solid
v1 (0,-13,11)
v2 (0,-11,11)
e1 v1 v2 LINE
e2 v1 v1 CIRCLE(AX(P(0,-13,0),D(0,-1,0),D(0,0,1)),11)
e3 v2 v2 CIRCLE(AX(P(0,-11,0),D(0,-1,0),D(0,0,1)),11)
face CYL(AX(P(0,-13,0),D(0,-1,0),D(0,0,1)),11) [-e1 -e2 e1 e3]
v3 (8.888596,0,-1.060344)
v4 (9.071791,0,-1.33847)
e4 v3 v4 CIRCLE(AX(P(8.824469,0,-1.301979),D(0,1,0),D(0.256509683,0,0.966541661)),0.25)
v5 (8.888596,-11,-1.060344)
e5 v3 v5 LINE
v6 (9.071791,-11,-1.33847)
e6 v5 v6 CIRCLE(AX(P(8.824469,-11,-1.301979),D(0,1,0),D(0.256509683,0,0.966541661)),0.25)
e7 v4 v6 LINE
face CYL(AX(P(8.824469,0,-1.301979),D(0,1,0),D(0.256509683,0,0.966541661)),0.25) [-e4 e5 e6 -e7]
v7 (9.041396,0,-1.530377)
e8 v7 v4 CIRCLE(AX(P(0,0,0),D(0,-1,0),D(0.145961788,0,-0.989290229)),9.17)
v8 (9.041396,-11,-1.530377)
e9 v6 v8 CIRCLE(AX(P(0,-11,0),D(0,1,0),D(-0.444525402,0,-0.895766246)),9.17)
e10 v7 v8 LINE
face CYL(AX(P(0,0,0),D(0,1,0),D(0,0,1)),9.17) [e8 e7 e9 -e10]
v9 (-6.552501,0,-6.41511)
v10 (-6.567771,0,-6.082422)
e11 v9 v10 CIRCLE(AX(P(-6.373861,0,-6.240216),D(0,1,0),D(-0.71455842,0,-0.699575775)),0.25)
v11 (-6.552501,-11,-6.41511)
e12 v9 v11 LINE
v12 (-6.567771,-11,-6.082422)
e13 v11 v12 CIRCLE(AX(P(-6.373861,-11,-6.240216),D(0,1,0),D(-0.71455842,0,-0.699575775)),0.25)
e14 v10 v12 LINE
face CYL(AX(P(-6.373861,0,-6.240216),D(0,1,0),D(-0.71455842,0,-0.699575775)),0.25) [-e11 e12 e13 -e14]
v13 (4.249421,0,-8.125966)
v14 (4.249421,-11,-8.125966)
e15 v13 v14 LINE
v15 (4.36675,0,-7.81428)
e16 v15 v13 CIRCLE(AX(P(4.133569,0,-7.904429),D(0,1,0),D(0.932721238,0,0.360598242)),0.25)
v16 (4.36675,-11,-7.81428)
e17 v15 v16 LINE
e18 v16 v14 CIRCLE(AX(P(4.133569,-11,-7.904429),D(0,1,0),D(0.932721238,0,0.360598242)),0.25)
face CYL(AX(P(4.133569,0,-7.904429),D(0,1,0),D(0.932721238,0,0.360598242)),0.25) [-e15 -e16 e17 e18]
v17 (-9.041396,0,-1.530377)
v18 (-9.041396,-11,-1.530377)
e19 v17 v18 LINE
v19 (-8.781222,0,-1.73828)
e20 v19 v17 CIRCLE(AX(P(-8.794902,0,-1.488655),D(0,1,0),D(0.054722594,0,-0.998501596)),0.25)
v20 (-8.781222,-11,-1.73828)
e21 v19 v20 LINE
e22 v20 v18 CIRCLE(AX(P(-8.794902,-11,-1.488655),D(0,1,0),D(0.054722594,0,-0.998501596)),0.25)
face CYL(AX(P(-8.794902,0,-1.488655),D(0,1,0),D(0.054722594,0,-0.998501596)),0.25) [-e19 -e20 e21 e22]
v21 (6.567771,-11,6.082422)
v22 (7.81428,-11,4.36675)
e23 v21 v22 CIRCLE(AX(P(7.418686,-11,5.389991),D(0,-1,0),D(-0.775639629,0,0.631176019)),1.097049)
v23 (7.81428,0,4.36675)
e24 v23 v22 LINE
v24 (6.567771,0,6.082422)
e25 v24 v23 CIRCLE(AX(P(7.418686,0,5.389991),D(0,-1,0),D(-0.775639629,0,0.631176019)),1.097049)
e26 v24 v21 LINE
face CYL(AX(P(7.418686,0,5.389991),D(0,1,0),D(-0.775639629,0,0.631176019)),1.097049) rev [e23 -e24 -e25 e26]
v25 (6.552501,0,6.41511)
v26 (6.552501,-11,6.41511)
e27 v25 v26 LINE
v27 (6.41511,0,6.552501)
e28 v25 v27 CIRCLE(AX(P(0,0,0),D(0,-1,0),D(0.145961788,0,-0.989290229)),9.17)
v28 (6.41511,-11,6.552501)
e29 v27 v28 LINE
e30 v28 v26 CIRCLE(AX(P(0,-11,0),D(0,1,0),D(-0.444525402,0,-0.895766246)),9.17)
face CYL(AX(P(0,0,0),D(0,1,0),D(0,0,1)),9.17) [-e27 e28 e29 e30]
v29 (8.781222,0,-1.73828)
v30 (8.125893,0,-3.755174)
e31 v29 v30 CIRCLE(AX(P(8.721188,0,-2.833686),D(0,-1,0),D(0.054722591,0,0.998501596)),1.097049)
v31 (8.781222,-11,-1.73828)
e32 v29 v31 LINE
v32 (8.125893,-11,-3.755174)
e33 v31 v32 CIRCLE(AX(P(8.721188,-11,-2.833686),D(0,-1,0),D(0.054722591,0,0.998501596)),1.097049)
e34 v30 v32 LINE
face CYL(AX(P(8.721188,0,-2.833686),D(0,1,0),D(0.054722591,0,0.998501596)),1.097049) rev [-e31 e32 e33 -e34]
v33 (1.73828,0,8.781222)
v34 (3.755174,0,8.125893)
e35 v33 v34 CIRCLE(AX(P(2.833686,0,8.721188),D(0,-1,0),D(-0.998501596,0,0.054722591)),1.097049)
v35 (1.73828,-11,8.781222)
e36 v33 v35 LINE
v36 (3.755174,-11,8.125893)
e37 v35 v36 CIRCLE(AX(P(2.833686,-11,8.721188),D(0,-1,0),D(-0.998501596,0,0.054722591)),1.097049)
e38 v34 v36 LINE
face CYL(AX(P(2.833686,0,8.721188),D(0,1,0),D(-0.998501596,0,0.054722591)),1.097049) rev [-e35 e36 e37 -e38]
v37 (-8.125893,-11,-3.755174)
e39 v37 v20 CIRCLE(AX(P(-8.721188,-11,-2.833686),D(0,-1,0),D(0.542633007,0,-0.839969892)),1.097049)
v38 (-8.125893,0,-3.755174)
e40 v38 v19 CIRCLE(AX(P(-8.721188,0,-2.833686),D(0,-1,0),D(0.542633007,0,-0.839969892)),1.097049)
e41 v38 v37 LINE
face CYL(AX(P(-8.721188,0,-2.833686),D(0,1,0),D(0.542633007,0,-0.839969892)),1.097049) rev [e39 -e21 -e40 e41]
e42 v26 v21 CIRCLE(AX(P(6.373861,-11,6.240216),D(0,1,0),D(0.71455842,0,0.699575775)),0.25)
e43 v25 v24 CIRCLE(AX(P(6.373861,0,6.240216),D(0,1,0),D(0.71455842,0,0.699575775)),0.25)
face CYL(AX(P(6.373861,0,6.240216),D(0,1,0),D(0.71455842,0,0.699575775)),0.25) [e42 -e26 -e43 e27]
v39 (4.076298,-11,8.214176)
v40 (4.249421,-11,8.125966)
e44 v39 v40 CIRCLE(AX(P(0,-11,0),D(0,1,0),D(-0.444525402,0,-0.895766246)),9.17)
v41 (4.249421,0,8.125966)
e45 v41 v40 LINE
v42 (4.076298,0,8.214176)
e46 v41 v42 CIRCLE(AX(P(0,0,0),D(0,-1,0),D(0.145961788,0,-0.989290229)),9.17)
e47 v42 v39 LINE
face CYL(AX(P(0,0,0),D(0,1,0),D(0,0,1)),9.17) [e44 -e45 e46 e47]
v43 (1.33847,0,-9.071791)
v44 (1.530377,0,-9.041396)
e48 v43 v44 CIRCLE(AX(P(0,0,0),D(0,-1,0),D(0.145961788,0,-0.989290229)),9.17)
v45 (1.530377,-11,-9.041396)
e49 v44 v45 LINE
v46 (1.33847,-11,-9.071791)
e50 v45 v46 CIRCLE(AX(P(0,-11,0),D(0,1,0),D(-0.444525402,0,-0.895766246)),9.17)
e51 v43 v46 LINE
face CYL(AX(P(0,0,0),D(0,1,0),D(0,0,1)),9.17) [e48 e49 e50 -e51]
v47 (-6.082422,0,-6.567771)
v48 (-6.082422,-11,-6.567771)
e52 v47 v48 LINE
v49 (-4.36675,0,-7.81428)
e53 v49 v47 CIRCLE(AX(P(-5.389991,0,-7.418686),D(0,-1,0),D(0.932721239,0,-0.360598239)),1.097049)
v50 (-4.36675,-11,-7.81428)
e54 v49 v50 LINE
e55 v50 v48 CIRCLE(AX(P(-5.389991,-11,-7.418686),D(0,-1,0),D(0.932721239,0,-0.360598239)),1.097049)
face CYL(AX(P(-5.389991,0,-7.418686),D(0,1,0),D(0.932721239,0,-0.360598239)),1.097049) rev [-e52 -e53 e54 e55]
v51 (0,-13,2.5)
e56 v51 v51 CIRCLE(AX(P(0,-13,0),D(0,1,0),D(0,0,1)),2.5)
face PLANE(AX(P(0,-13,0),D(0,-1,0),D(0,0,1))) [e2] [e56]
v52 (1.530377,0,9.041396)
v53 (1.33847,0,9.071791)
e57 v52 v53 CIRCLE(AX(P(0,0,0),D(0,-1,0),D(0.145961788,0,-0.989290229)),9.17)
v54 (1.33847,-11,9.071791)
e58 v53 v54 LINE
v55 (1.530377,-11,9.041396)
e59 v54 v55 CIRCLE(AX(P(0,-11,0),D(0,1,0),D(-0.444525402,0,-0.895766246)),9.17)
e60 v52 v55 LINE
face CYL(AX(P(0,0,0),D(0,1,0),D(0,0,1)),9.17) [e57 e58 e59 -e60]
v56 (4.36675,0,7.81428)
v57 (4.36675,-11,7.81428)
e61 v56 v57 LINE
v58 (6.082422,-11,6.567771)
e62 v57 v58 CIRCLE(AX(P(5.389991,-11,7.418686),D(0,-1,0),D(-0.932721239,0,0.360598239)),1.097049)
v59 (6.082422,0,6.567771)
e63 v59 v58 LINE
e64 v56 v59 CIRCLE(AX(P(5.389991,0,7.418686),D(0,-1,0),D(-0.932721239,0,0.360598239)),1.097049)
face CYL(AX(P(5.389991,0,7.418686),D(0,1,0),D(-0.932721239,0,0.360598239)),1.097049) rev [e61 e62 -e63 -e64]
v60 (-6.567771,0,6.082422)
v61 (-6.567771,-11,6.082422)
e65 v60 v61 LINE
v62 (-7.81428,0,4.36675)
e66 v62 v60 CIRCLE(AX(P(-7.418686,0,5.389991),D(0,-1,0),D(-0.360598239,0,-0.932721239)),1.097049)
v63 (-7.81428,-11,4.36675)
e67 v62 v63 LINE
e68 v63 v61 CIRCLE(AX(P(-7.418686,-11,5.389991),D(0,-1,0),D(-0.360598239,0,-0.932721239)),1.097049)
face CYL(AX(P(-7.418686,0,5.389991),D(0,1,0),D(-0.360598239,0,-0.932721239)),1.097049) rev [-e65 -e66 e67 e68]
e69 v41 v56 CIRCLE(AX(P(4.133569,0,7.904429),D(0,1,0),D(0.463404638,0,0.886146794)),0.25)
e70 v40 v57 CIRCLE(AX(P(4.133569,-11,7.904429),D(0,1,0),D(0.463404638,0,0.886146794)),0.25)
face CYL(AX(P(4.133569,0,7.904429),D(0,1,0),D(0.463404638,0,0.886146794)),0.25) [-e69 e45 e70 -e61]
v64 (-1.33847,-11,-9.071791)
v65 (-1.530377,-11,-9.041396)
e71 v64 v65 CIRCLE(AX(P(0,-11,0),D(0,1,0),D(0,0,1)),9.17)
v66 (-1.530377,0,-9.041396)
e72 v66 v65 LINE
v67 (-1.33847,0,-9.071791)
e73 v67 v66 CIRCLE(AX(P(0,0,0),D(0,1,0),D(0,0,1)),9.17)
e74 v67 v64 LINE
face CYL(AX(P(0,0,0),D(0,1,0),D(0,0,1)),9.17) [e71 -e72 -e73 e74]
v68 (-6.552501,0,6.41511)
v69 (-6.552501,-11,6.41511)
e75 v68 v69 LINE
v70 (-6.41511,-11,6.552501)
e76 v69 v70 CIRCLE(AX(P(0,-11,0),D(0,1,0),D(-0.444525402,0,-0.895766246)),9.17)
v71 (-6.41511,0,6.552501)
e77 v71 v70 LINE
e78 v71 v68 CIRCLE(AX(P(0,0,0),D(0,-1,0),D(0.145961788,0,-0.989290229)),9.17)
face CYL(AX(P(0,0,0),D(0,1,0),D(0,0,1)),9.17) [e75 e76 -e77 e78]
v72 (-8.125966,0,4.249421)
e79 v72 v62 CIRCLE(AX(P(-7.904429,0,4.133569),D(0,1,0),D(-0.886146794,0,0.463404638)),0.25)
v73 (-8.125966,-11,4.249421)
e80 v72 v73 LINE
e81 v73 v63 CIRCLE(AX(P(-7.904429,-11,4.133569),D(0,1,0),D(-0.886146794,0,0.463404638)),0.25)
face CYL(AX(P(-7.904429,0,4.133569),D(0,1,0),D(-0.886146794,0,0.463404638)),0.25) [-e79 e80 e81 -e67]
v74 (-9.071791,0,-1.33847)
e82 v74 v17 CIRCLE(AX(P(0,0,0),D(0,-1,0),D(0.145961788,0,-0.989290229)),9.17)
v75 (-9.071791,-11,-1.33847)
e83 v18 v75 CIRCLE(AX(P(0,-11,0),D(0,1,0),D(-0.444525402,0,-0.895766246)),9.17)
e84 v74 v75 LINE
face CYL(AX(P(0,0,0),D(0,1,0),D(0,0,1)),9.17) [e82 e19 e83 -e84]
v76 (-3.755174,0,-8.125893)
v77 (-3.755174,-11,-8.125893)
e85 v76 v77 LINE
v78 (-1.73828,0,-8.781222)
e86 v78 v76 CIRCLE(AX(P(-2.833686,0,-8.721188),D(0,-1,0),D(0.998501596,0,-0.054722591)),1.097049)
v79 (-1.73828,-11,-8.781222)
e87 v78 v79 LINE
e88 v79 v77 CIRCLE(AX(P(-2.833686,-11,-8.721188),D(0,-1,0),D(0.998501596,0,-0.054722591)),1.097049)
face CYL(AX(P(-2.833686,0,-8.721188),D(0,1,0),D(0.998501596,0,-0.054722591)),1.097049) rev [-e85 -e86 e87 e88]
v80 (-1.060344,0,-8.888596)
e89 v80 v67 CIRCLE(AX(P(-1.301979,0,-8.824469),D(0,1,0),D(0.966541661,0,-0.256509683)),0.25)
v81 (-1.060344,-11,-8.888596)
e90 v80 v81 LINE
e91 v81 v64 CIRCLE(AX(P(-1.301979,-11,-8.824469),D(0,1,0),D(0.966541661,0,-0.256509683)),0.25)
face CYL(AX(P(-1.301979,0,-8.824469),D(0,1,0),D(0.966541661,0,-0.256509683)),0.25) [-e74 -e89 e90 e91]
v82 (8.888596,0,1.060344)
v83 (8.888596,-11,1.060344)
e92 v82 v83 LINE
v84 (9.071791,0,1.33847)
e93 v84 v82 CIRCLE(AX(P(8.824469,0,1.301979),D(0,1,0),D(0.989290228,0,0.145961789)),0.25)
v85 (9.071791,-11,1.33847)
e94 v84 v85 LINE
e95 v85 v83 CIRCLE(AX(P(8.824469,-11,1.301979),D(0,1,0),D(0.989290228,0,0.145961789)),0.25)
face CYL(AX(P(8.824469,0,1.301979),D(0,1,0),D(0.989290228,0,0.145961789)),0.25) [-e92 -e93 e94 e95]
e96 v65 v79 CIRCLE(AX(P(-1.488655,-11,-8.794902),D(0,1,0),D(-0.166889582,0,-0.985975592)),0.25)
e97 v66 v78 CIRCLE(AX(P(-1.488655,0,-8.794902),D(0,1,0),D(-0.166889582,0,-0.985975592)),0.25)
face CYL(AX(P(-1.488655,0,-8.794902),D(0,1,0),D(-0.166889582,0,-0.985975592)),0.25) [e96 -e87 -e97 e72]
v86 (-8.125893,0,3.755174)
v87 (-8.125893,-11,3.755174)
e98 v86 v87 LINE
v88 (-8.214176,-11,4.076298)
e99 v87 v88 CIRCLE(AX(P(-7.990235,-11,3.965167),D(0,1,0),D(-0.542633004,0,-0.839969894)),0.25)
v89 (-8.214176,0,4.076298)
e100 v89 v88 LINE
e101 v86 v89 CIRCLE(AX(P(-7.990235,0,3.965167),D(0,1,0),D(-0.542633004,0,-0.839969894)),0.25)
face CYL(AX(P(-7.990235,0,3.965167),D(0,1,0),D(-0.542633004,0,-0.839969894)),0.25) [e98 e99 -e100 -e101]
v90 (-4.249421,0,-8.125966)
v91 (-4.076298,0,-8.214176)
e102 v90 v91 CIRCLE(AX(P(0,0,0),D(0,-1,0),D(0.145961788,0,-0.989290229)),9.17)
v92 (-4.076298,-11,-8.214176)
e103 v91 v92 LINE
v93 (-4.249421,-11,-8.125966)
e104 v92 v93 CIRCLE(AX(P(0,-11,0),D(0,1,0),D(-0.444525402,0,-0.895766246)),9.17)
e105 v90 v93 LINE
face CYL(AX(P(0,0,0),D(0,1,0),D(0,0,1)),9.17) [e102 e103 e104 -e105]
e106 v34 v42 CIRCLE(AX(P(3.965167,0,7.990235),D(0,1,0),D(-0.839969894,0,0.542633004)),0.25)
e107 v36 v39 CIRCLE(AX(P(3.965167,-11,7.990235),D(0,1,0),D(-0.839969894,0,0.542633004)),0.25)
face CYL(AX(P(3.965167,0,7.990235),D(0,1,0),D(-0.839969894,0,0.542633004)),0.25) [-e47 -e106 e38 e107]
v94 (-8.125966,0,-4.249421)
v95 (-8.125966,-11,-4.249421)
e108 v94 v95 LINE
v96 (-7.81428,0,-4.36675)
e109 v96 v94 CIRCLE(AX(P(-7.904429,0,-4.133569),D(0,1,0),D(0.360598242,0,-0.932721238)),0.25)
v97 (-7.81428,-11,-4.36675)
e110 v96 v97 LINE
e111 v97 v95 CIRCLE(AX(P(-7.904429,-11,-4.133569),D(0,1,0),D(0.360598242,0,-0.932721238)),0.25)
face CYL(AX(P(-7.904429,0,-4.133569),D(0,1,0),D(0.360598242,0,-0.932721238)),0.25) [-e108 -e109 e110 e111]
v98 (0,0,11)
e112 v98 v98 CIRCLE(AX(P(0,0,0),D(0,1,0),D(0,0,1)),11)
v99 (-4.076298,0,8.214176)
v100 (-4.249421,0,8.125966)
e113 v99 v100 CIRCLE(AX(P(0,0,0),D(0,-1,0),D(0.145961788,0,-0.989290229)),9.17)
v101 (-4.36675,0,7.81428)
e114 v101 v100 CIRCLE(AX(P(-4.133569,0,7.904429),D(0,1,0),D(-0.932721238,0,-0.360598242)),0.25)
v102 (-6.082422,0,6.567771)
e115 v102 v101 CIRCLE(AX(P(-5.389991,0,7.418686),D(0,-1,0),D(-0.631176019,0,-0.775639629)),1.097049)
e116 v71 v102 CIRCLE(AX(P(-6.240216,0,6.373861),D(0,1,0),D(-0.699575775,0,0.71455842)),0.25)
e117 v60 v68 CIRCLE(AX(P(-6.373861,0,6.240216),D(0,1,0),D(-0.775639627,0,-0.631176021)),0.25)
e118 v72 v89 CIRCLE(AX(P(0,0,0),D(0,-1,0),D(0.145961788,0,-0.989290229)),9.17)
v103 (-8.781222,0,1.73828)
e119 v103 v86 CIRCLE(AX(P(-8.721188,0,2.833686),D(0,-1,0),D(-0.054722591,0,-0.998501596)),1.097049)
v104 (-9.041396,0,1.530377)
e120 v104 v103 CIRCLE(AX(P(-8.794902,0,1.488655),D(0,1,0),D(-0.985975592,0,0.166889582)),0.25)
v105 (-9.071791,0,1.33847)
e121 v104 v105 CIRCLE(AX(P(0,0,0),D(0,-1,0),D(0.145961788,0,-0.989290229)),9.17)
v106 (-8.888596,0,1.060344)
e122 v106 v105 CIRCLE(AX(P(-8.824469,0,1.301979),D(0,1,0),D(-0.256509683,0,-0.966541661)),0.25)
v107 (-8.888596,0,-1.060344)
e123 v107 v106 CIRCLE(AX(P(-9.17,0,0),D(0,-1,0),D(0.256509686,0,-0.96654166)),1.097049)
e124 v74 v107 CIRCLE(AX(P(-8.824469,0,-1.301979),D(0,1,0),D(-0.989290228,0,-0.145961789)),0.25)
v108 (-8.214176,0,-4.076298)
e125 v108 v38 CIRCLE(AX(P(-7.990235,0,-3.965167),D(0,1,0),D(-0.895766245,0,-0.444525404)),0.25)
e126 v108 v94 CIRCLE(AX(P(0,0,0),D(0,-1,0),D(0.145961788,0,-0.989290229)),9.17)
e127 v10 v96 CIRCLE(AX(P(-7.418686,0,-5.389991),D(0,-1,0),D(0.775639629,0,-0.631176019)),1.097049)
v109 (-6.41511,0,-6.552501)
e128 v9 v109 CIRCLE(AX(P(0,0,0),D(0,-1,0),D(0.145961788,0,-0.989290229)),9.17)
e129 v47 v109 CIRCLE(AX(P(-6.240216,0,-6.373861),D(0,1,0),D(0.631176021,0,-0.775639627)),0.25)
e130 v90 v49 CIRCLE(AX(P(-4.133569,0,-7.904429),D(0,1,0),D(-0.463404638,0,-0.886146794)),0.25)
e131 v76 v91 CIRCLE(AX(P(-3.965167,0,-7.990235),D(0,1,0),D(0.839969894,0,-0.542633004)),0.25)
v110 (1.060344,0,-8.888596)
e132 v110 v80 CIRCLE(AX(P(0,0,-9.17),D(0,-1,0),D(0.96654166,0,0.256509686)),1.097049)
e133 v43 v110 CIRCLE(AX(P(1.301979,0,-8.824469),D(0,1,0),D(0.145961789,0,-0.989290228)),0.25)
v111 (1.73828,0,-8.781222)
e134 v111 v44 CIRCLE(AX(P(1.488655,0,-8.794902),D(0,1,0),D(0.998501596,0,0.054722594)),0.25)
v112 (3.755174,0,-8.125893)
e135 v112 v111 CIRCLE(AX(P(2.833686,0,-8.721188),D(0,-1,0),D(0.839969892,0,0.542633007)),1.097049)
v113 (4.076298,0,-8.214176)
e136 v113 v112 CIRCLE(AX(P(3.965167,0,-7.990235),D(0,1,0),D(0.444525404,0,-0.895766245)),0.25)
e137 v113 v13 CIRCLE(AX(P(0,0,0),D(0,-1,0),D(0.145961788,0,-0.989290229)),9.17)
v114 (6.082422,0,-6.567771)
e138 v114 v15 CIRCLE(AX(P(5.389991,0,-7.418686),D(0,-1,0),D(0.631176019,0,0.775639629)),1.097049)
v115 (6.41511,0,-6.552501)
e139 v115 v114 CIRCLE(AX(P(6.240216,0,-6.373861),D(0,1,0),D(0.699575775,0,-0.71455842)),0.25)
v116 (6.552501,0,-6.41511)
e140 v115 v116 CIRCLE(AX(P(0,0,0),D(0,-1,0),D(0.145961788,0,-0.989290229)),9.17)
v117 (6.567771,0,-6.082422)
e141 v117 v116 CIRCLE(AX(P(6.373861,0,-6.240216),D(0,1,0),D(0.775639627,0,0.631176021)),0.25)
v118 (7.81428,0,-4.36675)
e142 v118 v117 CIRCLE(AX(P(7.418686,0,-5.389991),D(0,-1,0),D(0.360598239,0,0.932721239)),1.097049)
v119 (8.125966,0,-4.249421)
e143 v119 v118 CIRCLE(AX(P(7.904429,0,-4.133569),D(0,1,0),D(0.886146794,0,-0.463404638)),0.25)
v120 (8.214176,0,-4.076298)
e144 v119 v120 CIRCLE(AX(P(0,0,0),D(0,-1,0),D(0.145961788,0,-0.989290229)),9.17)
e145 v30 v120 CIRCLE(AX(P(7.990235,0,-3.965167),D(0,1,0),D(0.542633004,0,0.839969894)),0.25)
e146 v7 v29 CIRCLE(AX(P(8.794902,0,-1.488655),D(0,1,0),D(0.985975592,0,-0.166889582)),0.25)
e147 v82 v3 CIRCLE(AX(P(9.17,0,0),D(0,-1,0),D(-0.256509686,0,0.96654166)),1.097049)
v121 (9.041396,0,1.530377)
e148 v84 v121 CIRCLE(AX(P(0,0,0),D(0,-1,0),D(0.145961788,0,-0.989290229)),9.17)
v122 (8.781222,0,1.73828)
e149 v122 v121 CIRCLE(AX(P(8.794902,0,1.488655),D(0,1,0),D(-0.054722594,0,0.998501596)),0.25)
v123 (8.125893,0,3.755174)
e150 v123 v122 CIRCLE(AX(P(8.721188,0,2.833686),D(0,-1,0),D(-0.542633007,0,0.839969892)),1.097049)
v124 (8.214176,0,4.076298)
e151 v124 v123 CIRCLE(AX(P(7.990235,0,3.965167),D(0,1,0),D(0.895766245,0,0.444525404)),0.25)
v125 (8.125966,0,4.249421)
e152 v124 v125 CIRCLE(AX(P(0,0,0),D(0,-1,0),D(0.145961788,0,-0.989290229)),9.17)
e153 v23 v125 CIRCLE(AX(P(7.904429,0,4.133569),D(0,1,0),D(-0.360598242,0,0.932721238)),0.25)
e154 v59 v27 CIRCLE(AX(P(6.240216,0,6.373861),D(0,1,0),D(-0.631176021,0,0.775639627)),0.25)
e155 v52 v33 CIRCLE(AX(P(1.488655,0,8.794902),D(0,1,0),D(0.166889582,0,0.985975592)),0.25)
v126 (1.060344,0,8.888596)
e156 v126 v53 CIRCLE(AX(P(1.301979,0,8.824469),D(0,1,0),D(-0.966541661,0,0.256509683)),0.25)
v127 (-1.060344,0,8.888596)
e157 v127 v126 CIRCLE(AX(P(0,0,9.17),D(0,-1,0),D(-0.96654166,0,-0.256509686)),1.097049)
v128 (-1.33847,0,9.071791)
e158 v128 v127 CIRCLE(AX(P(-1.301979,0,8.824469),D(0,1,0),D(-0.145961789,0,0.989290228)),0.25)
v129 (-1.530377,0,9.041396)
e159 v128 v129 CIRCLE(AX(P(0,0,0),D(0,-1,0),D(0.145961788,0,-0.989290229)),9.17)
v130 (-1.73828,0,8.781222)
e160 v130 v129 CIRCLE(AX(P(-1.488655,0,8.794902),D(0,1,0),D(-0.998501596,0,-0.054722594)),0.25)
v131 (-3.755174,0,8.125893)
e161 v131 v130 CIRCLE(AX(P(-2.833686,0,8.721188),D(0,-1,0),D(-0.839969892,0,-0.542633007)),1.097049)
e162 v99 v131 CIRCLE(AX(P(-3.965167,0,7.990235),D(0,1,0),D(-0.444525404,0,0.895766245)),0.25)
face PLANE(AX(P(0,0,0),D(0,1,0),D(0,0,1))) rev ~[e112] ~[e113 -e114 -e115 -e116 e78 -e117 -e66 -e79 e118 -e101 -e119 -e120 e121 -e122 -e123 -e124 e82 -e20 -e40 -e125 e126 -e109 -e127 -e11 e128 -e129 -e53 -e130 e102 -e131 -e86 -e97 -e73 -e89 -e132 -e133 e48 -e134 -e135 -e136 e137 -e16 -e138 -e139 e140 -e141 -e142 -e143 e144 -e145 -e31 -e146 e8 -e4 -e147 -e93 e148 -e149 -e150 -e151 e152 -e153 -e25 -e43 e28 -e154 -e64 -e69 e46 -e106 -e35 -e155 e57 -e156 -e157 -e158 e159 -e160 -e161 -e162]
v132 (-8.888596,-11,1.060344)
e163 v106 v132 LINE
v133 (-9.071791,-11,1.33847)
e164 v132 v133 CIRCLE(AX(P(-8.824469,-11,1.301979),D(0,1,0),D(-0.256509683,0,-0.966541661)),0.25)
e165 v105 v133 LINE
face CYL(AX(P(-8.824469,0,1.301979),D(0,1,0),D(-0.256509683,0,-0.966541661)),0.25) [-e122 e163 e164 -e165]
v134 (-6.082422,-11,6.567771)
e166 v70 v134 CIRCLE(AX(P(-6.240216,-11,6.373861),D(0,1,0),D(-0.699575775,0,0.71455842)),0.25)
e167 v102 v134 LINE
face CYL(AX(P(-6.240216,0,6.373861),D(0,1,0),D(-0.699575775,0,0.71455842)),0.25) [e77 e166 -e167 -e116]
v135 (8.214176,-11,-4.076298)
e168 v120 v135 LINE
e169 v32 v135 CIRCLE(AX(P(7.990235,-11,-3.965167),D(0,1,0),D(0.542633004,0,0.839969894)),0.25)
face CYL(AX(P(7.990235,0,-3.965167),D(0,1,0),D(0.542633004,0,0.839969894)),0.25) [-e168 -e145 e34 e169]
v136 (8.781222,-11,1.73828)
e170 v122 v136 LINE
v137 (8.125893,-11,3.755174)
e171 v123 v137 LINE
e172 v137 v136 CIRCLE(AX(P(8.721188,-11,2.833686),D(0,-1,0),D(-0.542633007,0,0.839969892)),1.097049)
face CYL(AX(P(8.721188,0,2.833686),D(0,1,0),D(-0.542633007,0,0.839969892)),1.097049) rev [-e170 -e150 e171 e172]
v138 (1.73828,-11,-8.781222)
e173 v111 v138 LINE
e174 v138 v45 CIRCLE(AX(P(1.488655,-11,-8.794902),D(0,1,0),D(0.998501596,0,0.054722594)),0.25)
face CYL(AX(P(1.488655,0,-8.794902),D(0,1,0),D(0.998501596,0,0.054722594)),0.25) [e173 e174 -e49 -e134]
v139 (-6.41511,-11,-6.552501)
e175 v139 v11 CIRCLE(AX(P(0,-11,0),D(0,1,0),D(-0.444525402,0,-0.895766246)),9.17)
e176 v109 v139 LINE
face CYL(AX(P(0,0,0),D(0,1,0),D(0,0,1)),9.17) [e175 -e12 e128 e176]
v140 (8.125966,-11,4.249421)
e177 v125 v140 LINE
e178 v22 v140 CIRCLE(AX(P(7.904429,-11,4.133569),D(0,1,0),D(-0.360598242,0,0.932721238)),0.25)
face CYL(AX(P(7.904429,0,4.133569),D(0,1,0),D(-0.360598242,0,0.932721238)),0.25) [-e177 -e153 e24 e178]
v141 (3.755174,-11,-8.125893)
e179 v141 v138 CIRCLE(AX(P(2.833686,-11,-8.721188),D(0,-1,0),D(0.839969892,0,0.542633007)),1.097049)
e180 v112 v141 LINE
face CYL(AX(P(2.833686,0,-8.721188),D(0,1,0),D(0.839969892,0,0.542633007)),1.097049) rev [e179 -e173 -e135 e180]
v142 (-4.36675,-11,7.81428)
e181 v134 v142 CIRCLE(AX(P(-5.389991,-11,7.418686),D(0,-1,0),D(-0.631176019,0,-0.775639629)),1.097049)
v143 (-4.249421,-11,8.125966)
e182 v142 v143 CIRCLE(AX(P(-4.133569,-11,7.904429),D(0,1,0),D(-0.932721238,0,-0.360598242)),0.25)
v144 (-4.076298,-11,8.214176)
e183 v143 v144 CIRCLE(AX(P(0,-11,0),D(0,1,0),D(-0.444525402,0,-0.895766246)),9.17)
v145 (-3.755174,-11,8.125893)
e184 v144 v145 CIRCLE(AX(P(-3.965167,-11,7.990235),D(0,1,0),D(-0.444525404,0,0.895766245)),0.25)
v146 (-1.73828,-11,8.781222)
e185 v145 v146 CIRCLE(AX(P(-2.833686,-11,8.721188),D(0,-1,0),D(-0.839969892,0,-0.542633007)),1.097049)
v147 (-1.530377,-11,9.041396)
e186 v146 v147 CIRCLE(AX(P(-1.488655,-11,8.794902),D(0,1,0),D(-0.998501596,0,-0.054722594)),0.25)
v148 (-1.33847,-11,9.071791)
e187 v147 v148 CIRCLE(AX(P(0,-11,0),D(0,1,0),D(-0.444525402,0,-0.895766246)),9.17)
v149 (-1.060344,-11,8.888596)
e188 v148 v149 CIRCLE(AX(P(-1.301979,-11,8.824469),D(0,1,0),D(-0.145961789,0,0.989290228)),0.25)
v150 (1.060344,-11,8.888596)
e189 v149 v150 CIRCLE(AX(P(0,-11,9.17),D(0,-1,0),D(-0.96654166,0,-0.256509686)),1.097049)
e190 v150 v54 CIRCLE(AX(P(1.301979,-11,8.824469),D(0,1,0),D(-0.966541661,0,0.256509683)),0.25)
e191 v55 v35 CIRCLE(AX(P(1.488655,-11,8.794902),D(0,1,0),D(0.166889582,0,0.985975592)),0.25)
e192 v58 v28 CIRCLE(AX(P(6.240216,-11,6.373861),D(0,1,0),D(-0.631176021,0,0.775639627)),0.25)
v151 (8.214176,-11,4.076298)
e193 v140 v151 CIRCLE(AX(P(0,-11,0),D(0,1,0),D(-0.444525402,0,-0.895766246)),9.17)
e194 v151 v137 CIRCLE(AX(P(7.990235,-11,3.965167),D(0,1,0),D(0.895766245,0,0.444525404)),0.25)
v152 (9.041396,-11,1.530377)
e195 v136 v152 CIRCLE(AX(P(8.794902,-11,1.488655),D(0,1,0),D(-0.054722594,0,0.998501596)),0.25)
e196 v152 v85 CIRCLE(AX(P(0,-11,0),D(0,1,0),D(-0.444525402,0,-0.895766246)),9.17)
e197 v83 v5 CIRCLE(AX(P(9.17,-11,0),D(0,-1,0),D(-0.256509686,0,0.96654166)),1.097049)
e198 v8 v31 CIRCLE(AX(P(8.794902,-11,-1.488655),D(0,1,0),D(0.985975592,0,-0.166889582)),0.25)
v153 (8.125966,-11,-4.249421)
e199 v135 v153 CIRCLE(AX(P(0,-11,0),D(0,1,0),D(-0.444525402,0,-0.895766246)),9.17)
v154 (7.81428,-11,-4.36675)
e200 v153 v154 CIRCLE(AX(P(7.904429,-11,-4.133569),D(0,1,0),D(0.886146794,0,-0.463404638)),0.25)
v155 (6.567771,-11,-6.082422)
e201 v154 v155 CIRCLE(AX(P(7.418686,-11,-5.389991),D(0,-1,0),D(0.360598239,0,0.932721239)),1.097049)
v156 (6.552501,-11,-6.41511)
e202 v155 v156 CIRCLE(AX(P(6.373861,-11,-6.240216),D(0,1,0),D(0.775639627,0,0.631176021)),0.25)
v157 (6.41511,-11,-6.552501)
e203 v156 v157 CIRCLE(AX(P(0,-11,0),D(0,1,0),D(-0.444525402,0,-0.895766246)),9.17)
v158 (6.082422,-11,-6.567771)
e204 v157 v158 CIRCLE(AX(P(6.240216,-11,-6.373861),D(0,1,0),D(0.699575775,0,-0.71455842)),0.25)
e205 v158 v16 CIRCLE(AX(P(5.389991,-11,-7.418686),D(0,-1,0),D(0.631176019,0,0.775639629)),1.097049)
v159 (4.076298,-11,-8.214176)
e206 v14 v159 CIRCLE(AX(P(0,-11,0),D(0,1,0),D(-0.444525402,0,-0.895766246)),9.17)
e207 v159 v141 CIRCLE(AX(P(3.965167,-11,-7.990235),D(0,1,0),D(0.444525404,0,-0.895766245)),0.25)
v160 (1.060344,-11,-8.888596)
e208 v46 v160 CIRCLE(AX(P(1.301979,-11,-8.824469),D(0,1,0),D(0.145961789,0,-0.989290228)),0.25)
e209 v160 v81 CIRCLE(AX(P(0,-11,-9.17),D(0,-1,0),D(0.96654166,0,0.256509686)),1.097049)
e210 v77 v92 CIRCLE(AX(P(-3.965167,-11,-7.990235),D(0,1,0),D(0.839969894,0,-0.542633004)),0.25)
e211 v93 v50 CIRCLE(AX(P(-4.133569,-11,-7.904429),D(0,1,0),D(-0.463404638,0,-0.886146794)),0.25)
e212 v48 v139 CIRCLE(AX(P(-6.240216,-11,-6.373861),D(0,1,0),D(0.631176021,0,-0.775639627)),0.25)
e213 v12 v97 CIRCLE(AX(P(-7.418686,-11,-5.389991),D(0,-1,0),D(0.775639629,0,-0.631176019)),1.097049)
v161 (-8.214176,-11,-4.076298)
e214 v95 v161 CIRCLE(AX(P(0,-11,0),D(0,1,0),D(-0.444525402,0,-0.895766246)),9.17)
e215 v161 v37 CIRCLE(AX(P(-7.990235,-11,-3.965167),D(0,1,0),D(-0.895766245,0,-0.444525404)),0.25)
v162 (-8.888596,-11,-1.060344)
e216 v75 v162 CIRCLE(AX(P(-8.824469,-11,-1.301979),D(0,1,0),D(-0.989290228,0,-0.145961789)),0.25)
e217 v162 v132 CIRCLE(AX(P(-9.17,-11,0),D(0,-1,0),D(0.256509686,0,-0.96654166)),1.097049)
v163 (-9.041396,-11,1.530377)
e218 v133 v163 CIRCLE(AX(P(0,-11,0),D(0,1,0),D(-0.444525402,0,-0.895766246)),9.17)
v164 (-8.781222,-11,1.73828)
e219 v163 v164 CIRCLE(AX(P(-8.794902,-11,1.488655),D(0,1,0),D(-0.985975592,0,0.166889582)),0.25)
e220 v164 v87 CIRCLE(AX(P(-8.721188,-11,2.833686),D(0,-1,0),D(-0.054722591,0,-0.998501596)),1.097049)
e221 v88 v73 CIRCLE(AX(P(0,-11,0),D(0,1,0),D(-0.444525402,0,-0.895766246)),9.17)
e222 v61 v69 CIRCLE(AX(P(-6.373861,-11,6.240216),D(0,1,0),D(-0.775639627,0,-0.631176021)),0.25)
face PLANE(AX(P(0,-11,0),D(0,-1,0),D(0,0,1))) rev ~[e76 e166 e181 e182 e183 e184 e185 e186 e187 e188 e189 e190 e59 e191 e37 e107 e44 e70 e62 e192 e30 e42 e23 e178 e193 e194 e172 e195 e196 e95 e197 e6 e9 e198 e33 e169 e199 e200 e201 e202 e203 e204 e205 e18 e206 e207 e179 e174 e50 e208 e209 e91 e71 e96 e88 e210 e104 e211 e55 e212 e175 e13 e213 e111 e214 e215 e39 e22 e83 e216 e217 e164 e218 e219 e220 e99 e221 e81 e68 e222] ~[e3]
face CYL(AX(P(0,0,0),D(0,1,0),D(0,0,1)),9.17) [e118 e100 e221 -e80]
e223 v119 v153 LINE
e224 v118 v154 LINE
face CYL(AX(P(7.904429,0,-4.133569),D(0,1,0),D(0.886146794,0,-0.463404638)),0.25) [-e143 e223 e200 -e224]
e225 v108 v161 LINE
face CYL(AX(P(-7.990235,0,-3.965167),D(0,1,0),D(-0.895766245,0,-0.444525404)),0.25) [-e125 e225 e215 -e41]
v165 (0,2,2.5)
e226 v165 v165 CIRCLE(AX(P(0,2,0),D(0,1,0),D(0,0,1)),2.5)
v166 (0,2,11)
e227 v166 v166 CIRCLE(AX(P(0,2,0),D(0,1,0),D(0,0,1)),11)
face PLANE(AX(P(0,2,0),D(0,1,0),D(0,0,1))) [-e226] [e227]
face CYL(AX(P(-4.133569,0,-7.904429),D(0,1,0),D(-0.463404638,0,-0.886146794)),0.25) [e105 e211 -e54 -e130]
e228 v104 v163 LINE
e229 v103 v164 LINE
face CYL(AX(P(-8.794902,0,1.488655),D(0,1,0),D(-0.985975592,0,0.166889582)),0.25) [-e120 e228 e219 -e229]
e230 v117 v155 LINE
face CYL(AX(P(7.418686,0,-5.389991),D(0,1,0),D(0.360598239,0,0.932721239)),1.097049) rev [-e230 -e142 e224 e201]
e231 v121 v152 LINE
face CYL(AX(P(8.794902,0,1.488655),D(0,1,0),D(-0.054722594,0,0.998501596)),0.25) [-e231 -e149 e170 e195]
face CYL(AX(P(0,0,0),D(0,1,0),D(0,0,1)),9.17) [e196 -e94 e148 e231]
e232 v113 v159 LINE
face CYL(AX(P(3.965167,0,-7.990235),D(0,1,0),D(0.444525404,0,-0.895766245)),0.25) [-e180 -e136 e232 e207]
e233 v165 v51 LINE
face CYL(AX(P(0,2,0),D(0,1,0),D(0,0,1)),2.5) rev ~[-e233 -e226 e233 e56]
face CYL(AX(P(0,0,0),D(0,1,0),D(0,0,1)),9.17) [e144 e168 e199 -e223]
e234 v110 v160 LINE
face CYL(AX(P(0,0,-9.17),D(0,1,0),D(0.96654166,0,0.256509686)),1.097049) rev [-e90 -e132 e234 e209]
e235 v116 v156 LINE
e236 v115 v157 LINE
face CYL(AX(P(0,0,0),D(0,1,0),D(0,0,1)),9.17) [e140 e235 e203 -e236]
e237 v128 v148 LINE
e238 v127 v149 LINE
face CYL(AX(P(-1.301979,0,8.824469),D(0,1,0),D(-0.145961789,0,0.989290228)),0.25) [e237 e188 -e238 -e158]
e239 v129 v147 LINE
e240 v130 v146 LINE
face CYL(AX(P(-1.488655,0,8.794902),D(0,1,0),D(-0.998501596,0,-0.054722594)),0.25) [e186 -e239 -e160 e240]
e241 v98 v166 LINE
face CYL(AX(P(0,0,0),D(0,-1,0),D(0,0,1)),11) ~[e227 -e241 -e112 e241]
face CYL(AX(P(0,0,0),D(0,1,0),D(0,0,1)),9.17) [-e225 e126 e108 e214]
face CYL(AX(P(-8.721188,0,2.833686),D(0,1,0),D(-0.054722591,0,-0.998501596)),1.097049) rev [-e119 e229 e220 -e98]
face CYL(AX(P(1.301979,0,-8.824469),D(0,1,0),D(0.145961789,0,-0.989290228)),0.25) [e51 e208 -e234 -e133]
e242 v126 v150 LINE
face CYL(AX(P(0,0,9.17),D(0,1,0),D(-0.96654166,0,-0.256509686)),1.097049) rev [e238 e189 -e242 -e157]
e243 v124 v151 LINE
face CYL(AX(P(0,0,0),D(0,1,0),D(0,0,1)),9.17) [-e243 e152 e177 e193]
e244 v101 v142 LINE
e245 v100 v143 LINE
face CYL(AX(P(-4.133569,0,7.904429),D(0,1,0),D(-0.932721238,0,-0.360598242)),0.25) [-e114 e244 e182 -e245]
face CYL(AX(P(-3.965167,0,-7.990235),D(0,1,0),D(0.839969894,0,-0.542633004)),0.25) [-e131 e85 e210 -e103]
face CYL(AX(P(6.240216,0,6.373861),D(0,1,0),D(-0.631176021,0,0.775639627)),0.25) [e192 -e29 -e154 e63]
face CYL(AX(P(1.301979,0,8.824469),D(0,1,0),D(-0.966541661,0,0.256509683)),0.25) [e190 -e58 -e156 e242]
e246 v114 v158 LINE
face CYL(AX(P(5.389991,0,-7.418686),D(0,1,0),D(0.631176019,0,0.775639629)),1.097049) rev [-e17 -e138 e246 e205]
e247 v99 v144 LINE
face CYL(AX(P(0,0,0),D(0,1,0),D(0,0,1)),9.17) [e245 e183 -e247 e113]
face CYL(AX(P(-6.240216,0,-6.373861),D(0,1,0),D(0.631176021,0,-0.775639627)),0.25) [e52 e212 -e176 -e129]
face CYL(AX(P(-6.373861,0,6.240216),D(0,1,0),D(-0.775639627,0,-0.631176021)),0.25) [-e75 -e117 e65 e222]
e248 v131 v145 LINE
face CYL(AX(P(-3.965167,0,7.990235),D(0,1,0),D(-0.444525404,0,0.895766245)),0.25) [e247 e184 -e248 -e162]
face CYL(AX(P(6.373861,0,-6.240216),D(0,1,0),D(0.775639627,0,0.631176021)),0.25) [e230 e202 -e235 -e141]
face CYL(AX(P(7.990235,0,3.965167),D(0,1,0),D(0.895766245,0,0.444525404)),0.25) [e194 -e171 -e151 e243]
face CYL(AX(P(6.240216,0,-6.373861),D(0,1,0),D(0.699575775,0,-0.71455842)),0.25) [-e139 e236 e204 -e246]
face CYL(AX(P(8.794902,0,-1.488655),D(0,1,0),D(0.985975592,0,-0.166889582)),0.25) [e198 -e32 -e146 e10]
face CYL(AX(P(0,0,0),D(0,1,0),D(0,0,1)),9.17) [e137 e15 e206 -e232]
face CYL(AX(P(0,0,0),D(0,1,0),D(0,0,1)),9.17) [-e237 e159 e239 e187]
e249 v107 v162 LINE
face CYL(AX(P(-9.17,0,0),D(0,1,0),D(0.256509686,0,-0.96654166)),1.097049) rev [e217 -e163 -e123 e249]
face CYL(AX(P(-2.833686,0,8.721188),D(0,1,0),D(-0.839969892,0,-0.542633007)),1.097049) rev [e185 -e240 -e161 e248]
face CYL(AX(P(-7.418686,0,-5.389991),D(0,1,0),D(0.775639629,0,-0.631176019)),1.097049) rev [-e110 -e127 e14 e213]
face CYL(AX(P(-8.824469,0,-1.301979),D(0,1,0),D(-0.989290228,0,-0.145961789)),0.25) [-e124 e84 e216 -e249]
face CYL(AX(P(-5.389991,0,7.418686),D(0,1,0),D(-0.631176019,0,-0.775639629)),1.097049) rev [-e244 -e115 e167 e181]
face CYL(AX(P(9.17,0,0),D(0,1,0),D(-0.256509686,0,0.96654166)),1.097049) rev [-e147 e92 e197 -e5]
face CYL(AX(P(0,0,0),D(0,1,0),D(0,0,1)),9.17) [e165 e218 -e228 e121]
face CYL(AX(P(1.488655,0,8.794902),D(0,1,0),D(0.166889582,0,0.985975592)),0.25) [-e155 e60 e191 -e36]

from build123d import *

# Parameters (mm, degrees)
SKETCH_1_R               = 9.17
EXTRUDE_1_DEPTH          = 11
CUT_EXTRUDE_1_DEPTH      = 11
PATTERN_CIRCULAR_1_COUNT = 20
SKETCH_4_R               = 11
EXTRUDE_3_DEPTH          = 2
EXTRUDE_START            = 2
SKETCH_3_R               = 11
EXTRUDE_4_DEPTH          = 2
SKETCH_5_R               = 2.5
CUT_EXTRUDE_2_DEPTH      = 22


with BuildPart() as part:
    # 草图1 → 凸台-拉伸1 (new body)
    with BuildSketch(Plane(origin=(0, 0, 0), x_dir=(1, 0, 0), z_dir=(0, 1, 0))):
        with Locations(Location((0, 0, 0), (0, 0, 270))):
            Circle(SKETCH_1_R)
    extrude(amount=-EXTRUDE_1_DEPTH)

    # 草图2 → 切除-拉伸1 (cut)
    with BuildSketch(Plane(origin=(0, 0, 0), x_dir=(1, 0, 0), z_dir=(0, 1, 0))):
        with BuildLine():
            Line((-1.338469592, 9.071791397), (-1.301979145, 9.548134799))
            Line((-1.301979145, 9.548134799), (1.164461041, 9.508969944))
            Line((1.164461041, 9.508969944), (1.338469592, 9.071791397))
            ThreePointArc((1.338469592, 9.071791397), (1.164461041, 9.03324808), (1.06034373, 8.888596261))
            ThreePointArc((1.06034373, 8.888596261), (0, 8.072950826), (-1.06034373, 8.888596261))
            ThreePointArc((-1.06034373, 8.888596261), (-1.164461041, 9.03324808), (-1.338469592, 9.071791397))
        make_face()
    cut_extrude_1 = extrude(amount=-CUT_EXTRUDE_1_DEPTH, mode=Mode.SUBTRACT)

    # 阵列(圆周)1: 切除-拉伸1 ×20 about axis
    pattern_circular_1_axis = Axis((0, 0, 0), (0, 1, 0))
    for i in range(1, PATTERN_CIRCULAR_1_COUNT):
        add(cut_extrude_1.rotate(pattern_circular_1_axis, i * 360 / PATTERN_CIRCULAR_1_COUNT), mode=Mode.SUBTRACT)

    # 草图4 → 凸台-拉伸3 (add)
    with BuildSketch(Plane(origin=(0, 0, 0), x_dir=(1, 0, 0), z_dir=(0, 1, 0))):
        with Locations(Location((0, 0, 0), (0, 0, 270))):
            Circle(SKETCH_4_R)
    extrude(amount=EXTRUDE_3_DEPTH)

    # 草图3 → 凸台-拉伸4 (add)
    with BuildSketch(Plane.XZ.offset(11).offset(EXTRUDE_START)):
        with Locations(Location((0, 0, 0), (0, 0, 90))):
            Circle(SKETCH_3_R)
    extrude(amount=-EXTRUDE_4_DEPTH)

    # 草图5 → 切除-拉伸2 (cut)
    with BuildSketch(Plane(origin=(0, 2, 0), x_dir=(1, 0, 0), z_dir=(0, 1, 0))):
        with Locations(Location((0, 0, 0), (0, 0, 270))):
            Circle(SKETCH_5_R)
    extrude(amount=-CUT_EXTRUDE_2_DEPTH, mode=Mode.SUBTRACT)


solid = part.part
